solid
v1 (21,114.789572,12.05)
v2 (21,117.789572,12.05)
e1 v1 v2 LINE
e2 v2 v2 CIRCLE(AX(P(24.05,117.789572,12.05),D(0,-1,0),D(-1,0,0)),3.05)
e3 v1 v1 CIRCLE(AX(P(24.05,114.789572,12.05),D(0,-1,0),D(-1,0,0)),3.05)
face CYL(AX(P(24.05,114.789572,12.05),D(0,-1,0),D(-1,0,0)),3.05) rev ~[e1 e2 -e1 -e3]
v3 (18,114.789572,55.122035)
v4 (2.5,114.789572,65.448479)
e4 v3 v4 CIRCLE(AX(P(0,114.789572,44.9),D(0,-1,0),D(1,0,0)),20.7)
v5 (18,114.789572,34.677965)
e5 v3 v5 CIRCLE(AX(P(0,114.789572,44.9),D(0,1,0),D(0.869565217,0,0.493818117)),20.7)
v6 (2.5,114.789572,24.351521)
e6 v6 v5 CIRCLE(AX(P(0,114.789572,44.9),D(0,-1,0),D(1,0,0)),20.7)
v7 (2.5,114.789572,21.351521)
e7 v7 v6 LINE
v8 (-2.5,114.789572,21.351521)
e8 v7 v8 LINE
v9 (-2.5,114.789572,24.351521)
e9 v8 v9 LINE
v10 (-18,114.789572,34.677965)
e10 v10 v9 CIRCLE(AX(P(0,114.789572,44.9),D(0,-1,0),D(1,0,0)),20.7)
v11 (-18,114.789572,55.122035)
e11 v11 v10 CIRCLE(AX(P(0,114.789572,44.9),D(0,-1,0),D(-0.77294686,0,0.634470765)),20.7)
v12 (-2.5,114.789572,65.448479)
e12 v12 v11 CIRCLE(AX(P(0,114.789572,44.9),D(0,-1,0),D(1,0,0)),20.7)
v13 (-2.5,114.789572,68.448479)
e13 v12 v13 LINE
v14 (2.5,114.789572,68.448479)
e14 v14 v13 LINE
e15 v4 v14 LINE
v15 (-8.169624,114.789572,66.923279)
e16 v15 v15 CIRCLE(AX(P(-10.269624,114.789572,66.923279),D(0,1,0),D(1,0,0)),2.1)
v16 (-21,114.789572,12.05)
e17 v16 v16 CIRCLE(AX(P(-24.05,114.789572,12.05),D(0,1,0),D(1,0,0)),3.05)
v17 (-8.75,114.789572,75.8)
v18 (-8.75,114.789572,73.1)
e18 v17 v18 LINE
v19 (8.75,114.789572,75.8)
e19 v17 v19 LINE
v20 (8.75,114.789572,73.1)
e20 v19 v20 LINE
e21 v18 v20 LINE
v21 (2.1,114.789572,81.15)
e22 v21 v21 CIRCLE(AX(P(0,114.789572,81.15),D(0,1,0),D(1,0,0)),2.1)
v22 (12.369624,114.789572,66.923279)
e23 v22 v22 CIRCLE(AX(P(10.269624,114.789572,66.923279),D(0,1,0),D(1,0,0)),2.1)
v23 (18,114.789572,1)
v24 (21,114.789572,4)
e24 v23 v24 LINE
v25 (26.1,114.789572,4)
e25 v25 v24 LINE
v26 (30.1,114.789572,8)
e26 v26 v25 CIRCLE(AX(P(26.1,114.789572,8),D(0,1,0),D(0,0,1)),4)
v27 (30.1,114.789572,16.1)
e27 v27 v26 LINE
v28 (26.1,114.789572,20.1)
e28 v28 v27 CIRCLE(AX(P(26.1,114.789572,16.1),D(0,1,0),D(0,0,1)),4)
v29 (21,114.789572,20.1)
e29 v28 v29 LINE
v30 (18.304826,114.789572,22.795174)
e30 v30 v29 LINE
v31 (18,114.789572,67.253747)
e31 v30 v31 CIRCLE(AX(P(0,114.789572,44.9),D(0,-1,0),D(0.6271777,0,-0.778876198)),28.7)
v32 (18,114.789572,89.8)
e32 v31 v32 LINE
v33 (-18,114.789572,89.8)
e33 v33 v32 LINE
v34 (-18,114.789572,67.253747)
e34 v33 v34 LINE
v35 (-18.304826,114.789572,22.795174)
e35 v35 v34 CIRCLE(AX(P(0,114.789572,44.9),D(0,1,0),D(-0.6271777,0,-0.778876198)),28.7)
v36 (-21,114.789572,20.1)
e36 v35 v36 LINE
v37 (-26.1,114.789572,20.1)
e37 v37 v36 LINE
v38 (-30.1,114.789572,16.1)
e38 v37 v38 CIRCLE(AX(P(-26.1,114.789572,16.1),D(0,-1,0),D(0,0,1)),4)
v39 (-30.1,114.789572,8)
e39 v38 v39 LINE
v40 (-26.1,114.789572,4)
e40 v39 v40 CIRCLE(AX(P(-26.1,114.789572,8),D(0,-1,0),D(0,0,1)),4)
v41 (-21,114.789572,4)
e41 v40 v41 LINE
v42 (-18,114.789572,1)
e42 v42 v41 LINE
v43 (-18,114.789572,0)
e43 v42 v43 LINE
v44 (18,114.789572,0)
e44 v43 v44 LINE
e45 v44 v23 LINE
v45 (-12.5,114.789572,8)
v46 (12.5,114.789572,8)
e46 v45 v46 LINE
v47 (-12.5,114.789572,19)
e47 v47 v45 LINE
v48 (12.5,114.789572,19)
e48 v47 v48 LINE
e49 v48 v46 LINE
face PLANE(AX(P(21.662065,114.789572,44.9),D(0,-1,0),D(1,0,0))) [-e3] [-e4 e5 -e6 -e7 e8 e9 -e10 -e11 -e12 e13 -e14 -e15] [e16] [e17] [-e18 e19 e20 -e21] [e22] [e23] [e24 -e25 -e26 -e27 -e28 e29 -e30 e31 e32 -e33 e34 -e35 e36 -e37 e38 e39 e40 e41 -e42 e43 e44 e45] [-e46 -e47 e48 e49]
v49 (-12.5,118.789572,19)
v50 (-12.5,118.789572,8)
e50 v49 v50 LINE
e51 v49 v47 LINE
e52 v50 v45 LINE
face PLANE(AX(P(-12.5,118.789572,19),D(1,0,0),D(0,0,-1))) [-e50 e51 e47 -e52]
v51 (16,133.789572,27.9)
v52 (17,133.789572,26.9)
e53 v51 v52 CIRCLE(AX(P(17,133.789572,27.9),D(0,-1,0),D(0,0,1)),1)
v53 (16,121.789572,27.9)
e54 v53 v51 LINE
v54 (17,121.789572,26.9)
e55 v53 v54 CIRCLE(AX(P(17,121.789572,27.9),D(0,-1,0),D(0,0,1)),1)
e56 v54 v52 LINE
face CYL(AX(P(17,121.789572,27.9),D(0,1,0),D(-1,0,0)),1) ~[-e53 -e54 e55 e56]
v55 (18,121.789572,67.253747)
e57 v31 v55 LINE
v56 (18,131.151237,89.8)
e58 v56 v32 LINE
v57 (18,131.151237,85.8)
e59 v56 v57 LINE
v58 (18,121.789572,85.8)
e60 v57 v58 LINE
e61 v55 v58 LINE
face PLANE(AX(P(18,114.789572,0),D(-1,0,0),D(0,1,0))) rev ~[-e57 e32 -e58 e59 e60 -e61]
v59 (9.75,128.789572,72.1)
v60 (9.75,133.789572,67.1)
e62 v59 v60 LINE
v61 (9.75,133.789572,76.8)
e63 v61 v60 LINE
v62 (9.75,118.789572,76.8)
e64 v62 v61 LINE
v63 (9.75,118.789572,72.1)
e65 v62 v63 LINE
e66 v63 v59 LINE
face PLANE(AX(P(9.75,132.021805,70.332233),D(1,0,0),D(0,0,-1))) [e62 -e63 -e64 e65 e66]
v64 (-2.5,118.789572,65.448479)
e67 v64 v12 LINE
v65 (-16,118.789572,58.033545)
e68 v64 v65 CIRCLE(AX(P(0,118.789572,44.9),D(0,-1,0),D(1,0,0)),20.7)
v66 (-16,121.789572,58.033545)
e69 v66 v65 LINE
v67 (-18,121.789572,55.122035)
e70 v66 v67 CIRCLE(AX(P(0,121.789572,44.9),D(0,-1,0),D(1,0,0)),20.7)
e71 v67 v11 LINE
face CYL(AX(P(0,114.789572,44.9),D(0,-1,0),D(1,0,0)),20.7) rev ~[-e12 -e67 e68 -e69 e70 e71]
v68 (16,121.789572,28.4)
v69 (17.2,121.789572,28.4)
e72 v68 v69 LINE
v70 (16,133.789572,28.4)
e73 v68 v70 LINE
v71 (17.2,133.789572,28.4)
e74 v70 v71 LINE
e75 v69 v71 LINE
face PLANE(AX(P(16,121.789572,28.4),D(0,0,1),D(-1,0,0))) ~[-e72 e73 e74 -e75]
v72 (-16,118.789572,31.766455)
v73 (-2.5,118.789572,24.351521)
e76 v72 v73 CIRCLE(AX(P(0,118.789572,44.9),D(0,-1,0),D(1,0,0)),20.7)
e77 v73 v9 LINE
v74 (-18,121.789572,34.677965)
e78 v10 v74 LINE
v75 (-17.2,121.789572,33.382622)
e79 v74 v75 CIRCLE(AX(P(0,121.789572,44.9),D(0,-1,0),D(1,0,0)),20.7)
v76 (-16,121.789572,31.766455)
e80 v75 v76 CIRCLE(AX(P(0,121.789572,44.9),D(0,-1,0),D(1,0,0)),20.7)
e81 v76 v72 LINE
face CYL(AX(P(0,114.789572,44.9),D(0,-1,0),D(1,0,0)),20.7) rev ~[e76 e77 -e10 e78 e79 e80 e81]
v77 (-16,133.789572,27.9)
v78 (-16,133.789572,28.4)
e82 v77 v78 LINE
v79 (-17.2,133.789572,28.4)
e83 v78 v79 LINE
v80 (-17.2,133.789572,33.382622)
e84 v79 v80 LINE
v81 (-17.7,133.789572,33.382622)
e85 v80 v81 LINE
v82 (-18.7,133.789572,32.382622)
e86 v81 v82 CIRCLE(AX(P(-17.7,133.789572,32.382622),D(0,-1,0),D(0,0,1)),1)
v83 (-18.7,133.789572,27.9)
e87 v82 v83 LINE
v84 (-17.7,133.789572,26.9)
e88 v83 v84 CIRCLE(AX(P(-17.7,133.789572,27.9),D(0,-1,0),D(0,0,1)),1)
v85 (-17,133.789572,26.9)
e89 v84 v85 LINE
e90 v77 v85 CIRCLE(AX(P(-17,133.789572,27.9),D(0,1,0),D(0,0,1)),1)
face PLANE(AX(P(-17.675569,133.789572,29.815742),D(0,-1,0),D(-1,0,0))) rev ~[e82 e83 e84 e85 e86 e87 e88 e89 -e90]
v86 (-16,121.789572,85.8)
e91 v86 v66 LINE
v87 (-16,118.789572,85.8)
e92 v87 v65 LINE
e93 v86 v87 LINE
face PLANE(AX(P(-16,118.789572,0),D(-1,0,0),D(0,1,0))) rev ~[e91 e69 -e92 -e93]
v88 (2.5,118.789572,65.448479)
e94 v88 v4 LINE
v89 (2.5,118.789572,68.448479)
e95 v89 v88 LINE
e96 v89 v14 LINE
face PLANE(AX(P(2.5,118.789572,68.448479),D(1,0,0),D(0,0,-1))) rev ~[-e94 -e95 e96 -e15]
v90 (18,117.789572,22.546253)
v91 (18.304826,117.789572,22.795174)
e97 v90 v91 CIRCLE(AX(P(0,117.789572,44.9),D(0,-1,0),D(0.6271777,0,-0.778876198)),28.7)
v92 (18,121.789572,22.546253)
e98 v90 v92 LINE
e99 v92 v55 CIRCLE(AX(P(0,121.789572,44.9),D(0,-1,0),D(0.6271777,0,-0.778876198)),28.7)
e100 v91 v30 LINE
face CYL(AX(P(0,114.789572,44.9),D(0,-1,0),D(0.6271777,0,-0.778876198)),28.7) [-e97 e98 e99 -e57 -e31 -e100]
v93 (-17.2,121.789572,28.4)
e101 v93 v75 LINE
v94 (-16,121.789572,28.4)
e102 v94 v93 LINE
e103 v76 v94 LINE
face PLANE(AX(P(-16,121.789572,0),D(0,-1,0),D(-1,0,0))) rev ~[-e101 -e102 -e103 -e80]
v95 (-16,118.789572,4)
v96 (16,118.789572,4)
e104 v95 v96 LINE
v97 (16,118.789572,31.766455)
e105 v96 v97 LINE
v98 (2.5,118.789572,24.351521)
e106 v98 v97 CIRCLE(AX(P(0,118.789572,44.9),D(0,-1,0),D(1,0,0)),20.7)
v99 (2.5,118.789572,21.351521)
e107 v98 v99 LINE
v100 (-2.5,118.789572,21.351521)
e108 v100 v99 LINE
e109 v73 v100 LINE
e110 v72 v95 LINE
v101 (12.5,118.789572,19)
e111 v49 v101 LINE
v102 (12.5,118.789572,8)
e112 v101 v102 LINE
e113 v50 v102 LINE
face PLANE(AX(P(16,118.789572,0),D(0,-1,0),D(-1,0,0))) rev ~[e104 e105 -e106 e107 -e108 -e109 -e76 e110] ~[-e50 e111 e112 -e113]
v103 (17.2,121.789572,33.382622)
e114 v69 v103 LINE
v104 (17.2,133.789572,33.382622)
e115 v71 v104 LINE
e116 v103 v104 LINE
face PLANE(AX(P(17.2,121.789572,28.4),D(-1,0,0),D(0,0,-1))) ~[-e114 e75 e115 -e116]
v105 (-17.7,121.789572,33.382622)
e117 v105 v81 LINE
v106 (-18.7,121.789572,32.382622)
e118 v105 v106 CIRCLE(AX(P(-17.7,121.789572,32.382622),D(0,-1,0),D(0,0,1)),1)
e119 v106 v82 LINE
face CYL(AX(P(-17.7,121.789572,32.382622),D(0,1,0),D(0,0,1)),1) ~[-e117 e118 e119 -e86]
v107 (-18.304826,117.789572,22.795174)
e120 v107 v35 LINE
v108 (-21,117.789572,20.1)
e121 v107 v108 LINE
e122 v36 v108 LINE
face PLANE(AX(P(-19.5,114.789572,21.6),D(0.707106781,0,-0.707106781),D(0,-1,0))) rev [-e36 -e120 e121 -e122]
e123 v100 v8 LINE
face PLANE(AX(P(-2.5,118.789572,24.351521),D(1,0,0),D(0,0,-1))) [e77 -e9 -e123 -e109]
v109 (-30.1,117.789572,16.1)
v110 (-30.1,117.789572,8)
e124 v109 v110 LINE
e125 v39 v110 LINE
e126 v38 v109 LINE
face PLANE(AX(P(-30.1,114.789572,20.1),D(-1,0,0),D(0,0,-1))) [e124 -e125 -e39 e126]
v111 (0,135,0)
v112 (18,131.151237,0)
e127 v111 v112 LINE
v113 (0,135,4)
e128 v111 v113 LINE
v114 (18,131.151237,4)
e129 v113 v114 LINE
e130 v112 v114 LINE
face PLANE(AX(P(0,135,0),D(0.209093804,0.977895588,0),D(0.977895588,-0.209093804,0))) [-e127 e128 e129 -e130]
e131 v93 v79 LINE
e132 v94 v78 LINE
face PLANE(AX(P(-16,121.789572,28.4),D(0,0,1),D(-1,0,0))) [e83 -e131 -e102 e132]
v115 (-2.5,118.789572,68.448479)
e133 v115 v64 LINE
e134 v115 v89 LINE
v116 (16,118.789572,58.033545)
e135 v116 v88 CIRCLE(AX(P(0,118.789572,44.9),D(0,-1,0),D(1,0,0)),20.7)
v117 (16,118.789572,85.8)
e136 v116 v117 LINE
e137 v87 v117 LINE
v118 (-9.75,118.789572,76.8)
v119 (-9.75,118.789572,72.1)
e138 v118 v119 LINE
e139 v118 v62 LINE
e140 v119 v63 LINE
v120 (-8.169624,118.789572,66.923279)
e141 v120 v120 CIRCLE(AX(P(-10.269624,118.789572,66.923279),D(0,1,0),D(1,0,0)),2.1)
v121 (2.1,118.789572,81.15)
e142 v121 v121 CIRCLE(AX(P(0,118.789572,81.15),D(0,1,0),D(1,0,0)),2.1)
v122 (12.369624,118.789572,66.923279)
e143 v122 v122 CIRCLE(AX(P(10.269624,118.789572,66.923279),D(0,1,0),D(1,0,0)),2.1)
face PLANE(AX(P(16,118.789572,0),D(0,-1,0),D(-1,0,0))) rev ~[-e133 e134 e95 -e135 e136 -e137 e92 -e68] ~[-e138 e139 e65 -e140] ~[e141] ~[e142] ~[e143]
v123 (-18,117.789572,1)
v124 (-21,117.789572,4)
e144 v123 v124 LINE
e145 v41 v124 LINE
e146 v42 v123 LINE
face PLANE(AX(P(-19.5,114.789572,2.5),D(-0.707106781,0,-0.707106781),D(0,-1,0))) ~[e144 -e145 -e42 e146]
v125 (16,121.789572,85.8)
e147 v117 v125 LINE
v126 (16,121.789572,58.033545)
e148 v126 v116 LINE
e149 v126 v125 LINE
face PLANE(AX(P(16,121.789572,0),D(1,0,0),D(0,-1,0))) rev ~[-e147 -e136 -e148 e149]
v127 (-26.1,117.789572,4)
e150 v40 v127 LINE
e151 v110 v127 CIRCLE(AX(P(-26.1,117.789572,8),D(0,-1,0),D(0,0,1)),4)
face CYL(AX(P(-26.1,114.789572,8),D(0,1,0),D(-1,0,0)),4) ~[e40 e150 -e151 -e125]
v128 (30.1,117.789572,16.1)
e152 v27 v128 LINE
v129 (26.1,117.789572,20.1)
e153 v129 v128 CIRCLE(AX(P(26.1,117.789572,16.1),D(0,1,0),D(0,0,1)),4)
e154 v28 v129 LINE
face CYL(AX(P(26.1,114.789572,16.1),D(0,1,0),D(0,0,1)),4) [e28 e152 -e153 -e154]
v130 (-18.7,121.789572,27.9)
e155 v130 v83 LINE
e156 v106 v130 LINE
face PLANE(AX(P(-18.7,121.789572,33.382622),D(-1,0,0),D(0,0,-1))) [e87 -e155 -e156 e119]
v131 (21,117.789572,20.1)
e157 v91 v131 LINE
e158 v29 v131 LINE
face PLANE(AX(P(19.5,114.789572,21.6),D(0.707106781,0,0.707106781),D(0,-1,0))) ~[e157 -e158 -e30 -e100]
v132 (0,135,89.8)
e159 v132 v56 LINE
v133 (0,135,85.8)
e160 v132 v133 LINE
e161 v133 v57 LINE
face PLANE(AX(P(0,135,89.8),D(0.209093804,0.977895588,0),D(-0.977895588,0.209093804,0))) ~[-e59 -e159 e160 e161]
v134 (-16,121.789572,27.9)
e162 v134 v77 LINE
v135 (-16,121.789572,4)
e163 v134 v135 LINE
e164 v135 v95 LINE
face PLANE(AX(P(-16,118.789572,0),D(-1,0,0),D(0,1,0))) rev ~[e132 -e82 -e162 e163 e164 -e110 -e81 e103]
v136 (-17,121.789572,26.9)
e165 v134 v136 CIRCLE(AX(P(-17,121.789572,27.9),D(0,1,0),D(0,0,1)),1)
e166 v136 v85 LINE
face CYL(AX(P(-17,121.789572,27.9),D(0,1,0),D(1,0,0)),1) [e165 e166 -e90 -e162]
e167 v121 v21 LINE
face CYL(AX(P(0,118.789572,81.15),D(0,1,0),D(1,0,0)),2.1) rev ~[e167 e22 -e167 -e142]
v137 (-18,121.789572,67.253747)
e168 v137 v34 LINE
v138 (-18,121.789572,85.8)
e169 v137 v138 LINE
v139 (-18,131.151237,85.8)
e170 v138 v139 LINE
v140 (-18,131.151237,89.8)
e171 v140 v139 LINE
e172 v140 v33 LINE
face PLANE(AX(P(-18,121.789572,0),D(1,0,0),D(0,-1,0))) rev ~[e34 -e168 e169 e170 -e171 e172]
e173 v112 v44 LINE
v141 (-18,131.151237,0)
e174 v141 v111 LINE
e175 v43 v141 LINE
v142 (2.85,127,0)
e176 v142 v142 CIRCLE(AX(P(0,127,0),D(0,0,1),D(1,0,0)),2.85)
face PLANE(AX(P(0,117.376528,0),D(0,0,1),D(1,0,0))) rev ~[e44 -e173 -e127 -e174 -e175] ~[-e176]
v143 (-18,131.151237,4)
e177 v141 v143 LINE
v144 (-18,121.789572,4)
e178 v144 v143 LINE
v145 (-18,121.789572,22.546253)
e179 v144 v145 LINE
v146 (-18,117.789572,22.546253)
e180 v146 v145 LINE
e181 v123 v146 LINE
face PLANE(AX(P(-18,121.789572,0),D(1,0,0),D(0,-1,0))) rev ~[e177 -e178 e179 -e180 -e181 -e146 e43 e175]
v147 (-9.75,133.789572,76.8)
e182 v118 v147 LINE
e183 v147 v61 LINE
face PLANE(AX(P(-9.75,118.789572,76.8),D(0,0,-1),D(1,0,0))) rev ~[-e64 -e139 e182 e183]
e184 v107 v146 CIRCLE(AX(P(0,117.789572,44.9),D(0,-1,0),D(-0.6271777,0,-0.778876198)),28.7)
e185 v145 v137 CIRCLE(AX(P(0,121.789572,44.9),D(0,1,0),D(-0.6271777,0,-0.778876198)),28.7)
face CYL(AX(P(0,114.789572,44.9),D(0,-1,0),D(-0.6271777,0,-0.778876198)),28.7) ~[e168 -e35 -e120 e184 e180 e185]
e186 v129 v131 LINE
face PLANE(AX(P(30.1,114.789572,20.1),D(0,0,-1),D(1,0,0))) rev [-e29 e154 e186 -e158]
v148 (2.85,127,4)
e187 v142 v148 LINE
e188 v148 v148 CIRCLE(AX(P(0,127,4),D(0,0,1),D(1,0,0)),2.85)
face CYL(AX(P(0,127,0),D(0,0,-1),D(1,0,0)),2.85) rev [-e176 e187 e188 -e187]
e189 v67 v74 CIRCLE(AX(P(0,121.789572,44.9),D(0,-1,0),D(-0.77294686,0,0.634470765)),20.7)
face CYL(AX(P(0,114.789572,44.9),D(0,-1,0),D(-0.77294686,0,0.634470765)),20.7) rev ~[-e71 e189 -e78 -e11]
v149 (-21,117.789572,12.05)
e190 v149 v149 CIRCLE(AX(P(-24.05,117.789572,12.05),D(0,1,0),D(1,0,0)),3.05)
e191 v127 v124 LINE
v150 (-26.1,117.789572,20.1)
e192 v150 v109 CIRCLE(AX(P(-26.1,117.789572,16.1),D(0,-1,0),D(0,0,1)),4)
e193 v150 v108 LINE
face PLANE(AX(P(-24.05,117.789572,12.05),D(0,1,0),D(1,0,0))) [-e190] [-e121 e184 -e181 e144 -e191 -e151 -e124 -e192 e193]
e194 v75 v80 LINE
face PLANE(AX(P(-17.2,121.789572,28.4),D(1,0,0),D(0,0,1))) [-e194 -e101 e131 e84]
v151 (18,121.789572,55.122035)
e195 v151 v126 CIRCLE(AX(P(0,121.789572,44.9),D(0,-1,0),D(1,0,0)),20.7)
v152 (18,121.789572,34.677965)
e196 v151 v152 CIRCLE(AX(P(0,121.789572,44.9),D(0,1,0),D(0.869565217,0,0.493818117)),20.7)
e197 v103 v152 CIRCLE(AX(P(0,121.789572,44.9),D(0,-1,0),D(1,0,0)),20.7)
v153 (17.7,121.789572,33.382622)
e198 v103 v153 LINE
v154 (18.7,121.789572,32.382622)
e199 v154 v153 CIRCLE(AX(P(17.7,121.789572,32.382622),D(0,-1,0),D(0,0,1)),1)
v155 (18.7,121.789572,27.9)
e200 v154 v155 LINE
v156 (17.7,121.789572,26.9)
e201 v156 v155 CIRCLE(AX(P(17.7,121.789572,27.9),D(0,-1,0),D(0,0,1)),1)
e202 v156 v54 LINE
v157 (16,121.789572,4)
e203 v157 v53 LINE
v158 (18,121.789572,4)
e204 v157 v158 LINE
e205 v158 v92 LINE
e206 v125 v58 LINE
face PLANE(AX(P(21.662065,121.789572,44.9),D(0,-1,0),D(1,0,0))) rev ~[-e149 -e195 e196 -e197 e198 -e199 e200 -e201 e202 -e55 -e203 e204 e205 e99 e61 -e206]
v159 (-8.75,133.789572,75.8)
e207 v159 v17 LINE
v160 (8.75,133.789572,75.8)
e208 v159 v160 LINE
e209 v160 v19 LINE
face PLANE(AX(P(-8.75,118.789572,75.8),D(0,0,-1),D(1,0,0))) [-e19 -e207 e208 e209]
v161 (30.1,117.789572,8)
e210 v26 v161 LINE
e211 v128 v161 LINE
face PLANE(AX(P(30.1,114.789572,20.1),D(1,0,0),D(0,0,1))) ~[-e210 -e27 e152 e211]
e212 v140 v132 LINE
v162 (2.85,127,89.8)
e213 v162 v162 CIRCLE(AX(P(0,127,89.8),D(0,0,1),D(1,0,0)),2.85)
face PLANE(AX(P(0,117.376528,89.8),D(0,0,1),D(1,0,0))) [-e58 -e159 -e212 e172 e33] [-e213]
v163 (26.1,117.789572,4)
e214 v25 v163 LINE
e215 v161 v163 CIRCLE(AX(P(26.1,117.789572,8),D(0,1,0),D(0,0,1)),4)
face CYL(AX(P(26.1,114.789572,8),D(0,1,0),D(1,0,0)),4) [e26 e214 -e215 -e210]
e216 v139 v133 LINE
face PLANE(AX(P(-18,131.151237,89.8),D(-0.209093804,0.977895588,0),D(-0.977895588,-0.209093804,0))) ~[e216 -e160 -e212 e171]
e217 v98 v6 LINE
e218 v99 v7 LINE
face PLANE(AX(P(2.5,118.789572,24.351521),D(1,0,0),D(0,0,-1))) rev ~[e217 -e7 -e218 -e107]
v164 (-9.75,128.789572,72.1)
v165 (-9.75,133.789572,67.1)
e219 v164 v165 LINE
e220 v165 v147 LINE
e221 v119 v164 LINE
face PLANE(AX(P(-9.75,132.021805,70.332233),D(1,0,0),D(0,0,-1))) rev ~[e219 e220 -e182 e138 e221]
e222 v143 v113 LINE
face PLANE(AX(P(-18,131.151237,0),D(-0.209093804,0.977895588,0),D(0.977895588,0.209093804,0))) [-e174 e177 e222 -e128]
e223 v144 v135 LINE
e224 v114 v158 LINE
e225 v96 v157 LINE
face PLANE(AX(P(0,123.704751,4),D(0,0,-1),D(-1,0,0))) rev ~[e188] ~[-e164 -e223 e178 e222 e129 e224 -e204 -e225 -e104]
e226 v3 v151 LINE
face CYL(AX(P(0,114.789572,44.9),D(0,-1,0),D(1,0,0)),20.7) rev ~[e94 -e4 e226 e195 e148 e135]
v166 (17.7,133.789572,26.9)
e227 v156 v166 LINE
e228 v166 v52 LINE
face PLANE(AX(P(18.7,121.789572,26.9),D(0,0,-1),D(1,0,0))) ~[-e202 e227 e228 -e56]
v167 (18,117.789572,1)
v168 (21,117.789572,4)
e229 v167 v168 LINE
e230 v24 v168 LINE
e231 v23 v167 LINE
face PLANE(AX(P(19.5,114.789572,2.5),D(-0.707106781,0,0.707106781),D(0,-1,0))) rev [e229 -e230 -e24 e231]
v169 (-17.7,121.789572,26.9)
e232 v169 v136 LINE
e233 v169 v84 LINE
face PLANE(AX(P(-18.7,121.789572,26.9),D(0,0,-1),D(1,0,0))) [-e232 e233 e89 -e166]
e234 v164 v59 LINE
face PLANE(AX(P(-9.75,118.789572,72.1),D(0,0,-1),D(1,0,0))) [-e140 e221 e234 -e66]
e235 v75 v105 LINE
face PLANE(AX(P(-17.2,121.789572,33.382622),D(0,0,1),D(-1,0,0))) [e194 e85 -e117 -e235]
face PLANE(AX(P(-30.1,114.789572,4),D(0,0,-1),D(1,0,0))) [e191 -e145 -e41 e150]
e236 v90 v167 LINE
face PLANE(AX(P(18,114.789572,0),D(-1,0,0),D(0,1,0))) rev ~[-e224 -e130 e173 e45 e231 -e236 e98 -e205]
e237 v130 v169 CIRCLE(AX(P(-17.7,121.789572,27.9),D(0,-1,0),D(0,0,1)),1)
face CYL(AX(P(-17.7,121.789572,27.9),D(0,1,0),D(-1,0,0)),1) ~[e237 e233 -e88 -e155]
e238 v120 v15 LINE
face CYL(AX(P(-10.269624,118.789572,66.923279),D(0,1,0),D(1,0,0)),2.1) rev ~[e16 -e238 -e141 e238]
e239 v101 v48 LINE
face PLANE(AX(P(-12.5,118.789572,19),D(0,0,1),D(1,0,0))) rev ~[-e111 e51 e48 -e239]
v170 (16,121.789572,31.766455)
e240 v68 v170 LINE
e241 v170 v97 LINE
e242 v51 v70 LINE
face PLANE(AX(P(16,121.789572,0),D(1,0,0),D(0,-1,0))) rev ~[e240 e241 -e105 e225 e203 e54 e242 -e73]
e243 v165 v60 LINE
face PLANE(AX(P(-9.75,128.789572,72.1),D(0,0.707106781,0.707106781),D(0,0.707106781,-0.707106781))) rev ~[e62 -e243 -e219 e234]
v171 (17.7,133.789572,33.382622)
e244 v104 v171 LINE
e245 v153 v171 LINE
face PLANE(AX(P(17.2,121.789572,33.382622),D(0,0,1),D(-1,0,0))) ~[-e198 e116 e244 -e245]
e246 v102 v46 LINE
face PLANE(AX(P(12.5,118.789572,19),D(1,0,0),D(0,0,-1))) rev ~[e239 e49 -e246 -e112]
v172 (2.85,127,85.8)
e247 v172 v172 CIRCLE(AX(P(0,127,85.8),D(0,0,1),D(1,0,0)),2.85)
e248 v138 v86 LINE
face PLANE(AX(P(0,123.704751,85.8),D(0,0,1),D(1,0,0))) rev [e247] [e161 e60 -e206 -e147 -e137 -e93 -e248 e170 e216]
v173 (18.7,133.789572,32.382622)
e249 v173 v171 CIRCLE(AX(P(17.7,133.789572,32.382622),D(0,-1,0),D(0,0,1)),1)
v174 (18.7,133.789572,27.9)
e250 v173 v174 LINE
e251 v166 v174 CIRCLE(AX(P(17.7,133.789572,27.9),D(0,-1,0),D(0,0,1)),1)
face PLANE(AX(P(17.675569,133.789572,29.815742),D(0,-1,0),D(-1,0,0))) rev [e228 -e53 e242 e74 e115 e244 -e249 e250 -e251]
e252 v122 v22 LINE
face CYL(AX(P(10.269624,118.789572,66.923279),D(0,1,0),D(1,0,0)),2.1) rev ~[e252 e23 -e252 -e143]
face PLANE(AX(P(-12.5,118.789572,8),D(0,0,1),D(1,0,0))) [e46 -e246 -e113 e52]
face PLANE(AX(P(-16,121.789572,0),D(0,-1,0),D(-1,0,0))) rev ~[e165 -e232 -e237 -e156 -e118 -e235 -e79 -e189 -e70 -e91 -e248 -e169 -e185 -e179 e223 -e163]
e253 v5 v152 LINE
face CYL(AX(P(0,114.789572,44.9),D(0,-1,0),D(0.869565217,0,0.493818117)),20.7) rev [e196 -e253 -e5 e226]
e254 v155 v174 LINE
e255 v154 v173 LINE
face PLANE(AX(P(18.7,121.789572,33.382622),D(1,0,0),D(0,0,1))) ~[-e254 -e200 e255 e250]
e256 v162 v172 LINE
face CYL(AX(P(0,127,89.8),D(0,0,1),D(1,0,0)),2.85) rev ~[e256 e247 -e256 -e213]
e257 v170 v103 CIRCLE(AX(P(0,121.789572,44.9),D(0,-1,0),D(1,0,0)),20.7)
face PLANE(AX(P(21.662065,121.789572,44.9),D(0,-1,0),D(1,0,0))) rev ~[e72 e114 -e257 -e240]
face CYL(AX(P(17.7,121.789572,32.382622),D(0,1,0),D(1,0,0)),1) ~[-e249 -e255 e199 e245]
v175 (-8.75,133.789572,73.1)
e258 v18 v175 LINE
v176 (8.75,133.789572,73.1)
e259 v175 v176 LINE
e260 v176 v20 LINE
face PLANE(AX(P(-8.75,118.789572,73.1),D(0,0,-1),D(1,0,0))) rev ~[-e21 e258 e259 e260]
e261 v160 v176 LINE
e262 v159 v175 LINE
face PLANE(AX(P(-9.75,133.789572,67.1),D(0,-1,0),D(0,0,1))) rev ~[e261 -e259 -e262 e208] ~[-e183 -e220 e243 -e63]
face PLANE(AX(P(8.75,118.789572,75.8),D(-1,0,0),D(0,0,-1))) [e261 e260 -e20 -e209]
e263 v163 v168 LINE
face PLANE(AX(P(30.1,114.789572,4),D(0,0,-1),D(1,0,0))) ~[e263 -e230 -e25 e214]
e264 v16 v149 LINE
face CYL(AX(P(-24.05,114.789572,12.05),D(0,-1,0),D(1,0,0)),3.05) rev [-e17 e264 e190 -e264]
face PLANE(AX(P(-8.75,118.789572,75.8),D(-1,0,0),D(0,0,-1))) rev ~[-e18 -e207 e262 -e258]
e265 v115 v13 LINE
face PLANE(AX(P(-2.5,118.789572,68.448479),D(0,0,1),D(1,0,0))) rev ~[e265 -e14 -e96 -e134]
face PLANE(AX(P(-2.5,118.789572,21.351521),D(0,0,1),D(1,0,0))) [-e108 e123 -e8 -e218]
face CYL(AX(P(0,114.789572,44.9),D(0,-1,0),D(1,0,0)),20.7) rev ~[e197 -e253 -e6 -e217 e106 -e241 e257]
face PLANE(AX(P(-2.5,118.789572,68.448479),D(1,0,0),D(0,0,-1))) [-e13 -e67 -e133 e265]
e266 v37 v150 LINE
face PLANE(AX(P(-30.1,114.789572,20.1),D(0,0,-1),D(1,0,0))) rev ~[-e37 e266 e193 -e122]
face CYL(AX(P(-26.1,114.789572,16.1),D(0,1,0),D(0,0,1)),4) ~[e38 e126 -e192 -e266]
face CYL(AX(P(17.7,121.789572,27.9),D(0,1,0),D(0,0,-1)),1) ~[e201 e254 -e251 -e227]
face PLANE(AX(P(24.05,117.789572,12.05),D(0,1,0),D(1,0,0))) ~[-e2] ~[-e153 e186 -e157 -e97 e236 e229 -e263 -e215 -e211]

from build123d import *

# Parameters (mm, degrees)
BOSS_EXTRUDE1_DEPTH  = 89.8
SKETCH5_R            = 2.85
BOSS_EXTRUDE2_DEPTH  = 4
SKETCH6_W            = 25
SKETCH6_H            = 11
CUT_EXTRUDE4_DEPTH   = 5
SKETCH8_W            = 19.5
SKETCH8_H            = 4.7
SKETCH8_W_2          = 17.5
SKETCH8_H_2          = 2.7
BOSS_EXTRUDE3_DEPTH  = 15
BOSS_EXTRUDE4_DEPTH  = 19.5
SKETCH13_W           = 17.5
SKETCH13_H           = 2.7
CUT_EXTRUDE5_DEPTH   = 5
SKETCH14_W           = 12.1
SKETCH14_H           = 16.1
SKETCH14_R           = 3.05
BOSS_EXTRUDE7_DEPTH  = 3
CHAMFER1_SIZE        = 3
SKETCH17_R           = 2.1
CUT_EXTRUDE6_DEPTH   = 5
BOSS_EXTRUDE8_DEPTH  = 7
CUT_EXTRUDE7_REACH   = 22.21
SKETCH20_R           = 20.7
FILLET1_R            = 4
SKETCH21_R           = 2.1
CUT_EXTRUDE8_DEPTH   = 5
SKETCH22_W           = 5
SKETCH22_H           = 3
CUT_EXTRUDE9_DEPTH   = 5
BOSS_EXTRUDE9_DEPTH  = 12
FILLET2_R            = 1
FILLET2_OF_MIRROR3_R = 1


with BuildPart() as part:
    # Sketch1 → Boss-Extrude1 (new body)
    with BuildSketch(Plane.XY):
        Polygon((-18, 114.78957189), (0, 114.78957189), (18, 114.78957189), (18, 121.78957189), (16, 121.78957189), (16, 118.78957189), (-16, 118.78957189), (-16, 121.78957189), (-18, 121.78957189), align=None)
    extrude(amount=BOSS_EXTRUDE1_DEPTH)

    # Sketch5 → Boss-Extrude2 (add)
    with BuildSketch(Plane.XY):
        Polygon((-18, 114.78957189), (-18, 131.151236874), (0, 135), (18, 131.151236874), (18, 114.78957189), align=None)
        with Locations((0, 127)):
            Circle(SKETCH5_R, mode=Mode.SUBTRACT)
    boss_extrude2 = extrude(amount=BOSS_EXTRUDE2_DEPTH)

    # Mirror1: Boss-Extrude2 across plane
    add(boss_extrude2.mirror(Plane(origin=(0, 0, 44.9), x_dir=(1, 0, 0), z_dir=(0, 0, -1))))

    # Sketch6 → Cut-Extrude4 (cut, through all)
    with BuildSketch(Plane(origin=(0, 118.78957189, 0), x_dir=(1, 0, 0), z_dir=(0, 1, 0))):
        with Locations((0, -13.5)):
            Rectangle(SKETCH6_W, SKETCH6_H)
    extrude(amount=-CUT_EXTRUDE4_DEPTH, mode=Mode.SUBTRACT)

    # Sketch8 → Boss-Extrude3 (add)
    with BuildSketch(Plane(origin=(0, 118.78957189, 0), x_dir=(1, 0, 0), z_dir=(0, 1, 0))):
        with Locations((0, -74.45)):
            Rectangle(SKETCH8_W, SKETCH8_H)
        with Locations((0, -74.45)):
            Rectangle(SKETCH8_W_2, SKETCH8_H_2, mode=Mode.SUBTRACT)
    extrude(amount=BOSS_EXTRUDE3_DEPTH)

    # Sketch9 → Boss-Extrude4 (add)
    with BuildSketch(Plane.ZY.offset(9.75)):
        Polygon((72.1, 128.78957189), (67.1, 133.78957189), (72.1, 133.78957189), align=None)
    extrude(amount=-BOSS_EXTRUDE4_DEPTH)

    # Sketch13 → Cut-Extrude5 (cut, through all)
    with BuildSketch(Plane(origin=(0, 118.78957189, 0), x_dir=(1, 0, 0), z_dir=(0, 1, 0))):
        with Locations((0, -74.45)):
            Rectangle(SKETCH13_W, SKETCH13_H)
    extrude(amount=-CUT_EXTRUDE5_DEPTH, mode=Mode.SUBTRACT)

    # Sketch14 → Boss-Extrude7 (add)
    with BuildSketch(Plane(origin=(0, 114.78957189, 0), x_dir=(1, 0, 0), z_dir=(0, 1, 0))):
        with Locations((-24.05, -12.05)):
            Rectangle(SKETCH14_W, SKETCH14_H)
        with Locations((-24.05, -12.05)):
            Circle(SKETCH14_R, mode=Mode.SUBTRACT)
    boss_extrude7 = extrude(amount=BOSS_EXTRUDE7_DEPTH)

    # Mirror2: Boss-Extrude7 across plane
    add(boss_extrude7.mirror(Plane(origin=(0, 0, 0), x_dir=(0, 0, 1), z_dir=(1, 0, 0))))

    # Chamfer1
    chamfer1_edges = [part.edges().sort_by_distance(p)[0] for p in [
        (-18, 116.28957189, 20.1),
        (-18, 116.28957189, 4),
        (18, 116.28957189, 4),
        (18, 116.28957189, 20.1),
    ]]
    chamfer(chamfer1_edges, length=CHAMFER1_SIZE)

    # Sketch17 → Cut-Extrude6 (cut, through all)
    with BuildSketch(Plane(origin=(0, 118.78957189, 0), x_dir=(1, 0, 0), z_dir=(0, 1, 0))):
        with Locations((0, -81.15)):
            Circle(SKETCH17_R)
    extrude(amount=-CUT_EXTRUDE6_DEPTH, mode=Mode.SUBTRACT)

    # Sketch19 → Boss-Extrude8 (add)
    with BuildSketch(Plane.XZ.offset(-114.78957189)):
        with BuildLine():
            Line((18, 67.25374689), (18, 55.122035022))
            ThreePointArc((18, 55.122035022), (20.7, 44.9), (18, 34.677964978))
            Line((18, 34.677964978), (18, 22.54625311))
            ThreePointArc((18, 22.54625311), (28.7, 44.9), (18, 67.25374689))
        make_face()
        with BuildLine():
            Line((-16, 68.726246032), (-16, 58.033544838))
            ThreePointArc((-16, 58.033544838), (-20.624518846, 46.666132031), (-18, 34.677964978))
            Line((-18, 34.677964978), (-18, 22.54625311))
            ThreePointArc((-18, 22.54625311), (-28.673122198, 46.141798467), (-16, 68.726246032))
        make_face()
    extrude(amount=-BOSS_EXTRUDE8_DEPTH)

    # Sketch20 → Cut-Extrude7 (cut, up to next)
    with BuildSketch(Plane.XZ.offset(-114.78957189), mode=Mode.PRIVATE) as cut_extrude7_sk1:
        with Locations((0, 44.9)):
            Circle(SKETCH20_R)
    cut_extrude7_tool1 = extrude(cut_extrude7_sk1.sketch, amount=-CUT_EXTRUDE7_REACH, mode=Mode.PRIVATE) & part.part
    add(cut_extrude7_tool1.solids().sort_by_distance((0, 114.789572, 44.9))[0], mode=Mode.SUBTRACT)

    # Fillet1
    fillet1_edges = [part.edges().sort_by_distance(p)[0] for p in [
        (-30.1, 116.28957189, 4),
        (-30.1, 116.28957189, 20.1),
        (30.1, 116.28957189, 20.1),
        (30.1, 116.28957189, 4),
    ]]
    fillet(fillet1_edges, radius=FILLET1_R)

    # Sketch21 → Cut-Extrude8 (cut, through all)
    with BuildSketch(Plane(origin=(0, 118.78957189, 0), x_dir=(1, 0, 0), z_dir=(0, 1, 0))):
        with Locations((-10.26962376, -66.923279225)):
            Circle(SKETCH21_R)
        with Locations((10.26962376, -66.923279225)):
            Circle(SKETCH21_R)
    extrude(amount=-CUT_EXTRUDE8_DEPTH, mode=Mode.SUBTRACT)

    # Sketch22 → Cut-Extrude9 (cut, through all)
    with BuildSketch(Plane(origin=(0, 118.78957189, 0), x_dir=(1, 0, 0), z_dir=(0, 1, 0))):
        with Locations((0, -66.948479262)):
            Rectangle(SKETCH22_W, SKETCH22_H)
        with Locations((0, -22.851520738)):
            Rectangle(SKETCH22_W, SKETCH22_H)
    extrude(amount=-CUT_EXTRUDE9_DEPTH, mode=Mode.SUBTRACT)

    # Sketch23 → Boss-Extrude9 (add)
    with BuildSketch(Plane(origin=(0, 121.78957189, 0), x_dir=(1, 0, 0), z_dir=(0, 1, 0))):
        Polygon((-18.7, -26.9), (-16, -26.9), (-16, -28.4), (-17.2, -28.4), (-17.2, -33.382621826), (-18.7, -33.382621826), align=None)
    boss_extrude9 = extrude(amount=BOSS_EXTRUDE9_DEPTH)

    # Fillet2
    fillet2_edges = [part.edges().sort_by_distance(p)[0] for p in [
        (-16, 127.78957189, 26.9),
        (-18.7, 127.78957189, 33.382621826),
        (-18.7, 127.78957189, 26.9),
    ]]
    fillet(fillet2_edges, radius=FILLET2_R)

    # Mirror3: Boss-Extrude9 across plane
    add(boss_extrude9.mirror(Plane(origin=(0, 0, 0), x_dir=(0, 0, 1), z_dir=(1, 0, 0))))

    # Fillet2 of Mirror3
    fillet2_of_mirror3_edges = [part.edges().sort_by_distance(p)[0] for p in [
        (16, 127.78957189, 26.9),
        (18.7, 127.78957189, 33.382621826),
        (18.7, 127.78957189, 26.9),
    ]]
    fillet(fillet2_of_mirror3_edges, radius=FILLET2_OF_MIRROR3_R)


solid = part.part
